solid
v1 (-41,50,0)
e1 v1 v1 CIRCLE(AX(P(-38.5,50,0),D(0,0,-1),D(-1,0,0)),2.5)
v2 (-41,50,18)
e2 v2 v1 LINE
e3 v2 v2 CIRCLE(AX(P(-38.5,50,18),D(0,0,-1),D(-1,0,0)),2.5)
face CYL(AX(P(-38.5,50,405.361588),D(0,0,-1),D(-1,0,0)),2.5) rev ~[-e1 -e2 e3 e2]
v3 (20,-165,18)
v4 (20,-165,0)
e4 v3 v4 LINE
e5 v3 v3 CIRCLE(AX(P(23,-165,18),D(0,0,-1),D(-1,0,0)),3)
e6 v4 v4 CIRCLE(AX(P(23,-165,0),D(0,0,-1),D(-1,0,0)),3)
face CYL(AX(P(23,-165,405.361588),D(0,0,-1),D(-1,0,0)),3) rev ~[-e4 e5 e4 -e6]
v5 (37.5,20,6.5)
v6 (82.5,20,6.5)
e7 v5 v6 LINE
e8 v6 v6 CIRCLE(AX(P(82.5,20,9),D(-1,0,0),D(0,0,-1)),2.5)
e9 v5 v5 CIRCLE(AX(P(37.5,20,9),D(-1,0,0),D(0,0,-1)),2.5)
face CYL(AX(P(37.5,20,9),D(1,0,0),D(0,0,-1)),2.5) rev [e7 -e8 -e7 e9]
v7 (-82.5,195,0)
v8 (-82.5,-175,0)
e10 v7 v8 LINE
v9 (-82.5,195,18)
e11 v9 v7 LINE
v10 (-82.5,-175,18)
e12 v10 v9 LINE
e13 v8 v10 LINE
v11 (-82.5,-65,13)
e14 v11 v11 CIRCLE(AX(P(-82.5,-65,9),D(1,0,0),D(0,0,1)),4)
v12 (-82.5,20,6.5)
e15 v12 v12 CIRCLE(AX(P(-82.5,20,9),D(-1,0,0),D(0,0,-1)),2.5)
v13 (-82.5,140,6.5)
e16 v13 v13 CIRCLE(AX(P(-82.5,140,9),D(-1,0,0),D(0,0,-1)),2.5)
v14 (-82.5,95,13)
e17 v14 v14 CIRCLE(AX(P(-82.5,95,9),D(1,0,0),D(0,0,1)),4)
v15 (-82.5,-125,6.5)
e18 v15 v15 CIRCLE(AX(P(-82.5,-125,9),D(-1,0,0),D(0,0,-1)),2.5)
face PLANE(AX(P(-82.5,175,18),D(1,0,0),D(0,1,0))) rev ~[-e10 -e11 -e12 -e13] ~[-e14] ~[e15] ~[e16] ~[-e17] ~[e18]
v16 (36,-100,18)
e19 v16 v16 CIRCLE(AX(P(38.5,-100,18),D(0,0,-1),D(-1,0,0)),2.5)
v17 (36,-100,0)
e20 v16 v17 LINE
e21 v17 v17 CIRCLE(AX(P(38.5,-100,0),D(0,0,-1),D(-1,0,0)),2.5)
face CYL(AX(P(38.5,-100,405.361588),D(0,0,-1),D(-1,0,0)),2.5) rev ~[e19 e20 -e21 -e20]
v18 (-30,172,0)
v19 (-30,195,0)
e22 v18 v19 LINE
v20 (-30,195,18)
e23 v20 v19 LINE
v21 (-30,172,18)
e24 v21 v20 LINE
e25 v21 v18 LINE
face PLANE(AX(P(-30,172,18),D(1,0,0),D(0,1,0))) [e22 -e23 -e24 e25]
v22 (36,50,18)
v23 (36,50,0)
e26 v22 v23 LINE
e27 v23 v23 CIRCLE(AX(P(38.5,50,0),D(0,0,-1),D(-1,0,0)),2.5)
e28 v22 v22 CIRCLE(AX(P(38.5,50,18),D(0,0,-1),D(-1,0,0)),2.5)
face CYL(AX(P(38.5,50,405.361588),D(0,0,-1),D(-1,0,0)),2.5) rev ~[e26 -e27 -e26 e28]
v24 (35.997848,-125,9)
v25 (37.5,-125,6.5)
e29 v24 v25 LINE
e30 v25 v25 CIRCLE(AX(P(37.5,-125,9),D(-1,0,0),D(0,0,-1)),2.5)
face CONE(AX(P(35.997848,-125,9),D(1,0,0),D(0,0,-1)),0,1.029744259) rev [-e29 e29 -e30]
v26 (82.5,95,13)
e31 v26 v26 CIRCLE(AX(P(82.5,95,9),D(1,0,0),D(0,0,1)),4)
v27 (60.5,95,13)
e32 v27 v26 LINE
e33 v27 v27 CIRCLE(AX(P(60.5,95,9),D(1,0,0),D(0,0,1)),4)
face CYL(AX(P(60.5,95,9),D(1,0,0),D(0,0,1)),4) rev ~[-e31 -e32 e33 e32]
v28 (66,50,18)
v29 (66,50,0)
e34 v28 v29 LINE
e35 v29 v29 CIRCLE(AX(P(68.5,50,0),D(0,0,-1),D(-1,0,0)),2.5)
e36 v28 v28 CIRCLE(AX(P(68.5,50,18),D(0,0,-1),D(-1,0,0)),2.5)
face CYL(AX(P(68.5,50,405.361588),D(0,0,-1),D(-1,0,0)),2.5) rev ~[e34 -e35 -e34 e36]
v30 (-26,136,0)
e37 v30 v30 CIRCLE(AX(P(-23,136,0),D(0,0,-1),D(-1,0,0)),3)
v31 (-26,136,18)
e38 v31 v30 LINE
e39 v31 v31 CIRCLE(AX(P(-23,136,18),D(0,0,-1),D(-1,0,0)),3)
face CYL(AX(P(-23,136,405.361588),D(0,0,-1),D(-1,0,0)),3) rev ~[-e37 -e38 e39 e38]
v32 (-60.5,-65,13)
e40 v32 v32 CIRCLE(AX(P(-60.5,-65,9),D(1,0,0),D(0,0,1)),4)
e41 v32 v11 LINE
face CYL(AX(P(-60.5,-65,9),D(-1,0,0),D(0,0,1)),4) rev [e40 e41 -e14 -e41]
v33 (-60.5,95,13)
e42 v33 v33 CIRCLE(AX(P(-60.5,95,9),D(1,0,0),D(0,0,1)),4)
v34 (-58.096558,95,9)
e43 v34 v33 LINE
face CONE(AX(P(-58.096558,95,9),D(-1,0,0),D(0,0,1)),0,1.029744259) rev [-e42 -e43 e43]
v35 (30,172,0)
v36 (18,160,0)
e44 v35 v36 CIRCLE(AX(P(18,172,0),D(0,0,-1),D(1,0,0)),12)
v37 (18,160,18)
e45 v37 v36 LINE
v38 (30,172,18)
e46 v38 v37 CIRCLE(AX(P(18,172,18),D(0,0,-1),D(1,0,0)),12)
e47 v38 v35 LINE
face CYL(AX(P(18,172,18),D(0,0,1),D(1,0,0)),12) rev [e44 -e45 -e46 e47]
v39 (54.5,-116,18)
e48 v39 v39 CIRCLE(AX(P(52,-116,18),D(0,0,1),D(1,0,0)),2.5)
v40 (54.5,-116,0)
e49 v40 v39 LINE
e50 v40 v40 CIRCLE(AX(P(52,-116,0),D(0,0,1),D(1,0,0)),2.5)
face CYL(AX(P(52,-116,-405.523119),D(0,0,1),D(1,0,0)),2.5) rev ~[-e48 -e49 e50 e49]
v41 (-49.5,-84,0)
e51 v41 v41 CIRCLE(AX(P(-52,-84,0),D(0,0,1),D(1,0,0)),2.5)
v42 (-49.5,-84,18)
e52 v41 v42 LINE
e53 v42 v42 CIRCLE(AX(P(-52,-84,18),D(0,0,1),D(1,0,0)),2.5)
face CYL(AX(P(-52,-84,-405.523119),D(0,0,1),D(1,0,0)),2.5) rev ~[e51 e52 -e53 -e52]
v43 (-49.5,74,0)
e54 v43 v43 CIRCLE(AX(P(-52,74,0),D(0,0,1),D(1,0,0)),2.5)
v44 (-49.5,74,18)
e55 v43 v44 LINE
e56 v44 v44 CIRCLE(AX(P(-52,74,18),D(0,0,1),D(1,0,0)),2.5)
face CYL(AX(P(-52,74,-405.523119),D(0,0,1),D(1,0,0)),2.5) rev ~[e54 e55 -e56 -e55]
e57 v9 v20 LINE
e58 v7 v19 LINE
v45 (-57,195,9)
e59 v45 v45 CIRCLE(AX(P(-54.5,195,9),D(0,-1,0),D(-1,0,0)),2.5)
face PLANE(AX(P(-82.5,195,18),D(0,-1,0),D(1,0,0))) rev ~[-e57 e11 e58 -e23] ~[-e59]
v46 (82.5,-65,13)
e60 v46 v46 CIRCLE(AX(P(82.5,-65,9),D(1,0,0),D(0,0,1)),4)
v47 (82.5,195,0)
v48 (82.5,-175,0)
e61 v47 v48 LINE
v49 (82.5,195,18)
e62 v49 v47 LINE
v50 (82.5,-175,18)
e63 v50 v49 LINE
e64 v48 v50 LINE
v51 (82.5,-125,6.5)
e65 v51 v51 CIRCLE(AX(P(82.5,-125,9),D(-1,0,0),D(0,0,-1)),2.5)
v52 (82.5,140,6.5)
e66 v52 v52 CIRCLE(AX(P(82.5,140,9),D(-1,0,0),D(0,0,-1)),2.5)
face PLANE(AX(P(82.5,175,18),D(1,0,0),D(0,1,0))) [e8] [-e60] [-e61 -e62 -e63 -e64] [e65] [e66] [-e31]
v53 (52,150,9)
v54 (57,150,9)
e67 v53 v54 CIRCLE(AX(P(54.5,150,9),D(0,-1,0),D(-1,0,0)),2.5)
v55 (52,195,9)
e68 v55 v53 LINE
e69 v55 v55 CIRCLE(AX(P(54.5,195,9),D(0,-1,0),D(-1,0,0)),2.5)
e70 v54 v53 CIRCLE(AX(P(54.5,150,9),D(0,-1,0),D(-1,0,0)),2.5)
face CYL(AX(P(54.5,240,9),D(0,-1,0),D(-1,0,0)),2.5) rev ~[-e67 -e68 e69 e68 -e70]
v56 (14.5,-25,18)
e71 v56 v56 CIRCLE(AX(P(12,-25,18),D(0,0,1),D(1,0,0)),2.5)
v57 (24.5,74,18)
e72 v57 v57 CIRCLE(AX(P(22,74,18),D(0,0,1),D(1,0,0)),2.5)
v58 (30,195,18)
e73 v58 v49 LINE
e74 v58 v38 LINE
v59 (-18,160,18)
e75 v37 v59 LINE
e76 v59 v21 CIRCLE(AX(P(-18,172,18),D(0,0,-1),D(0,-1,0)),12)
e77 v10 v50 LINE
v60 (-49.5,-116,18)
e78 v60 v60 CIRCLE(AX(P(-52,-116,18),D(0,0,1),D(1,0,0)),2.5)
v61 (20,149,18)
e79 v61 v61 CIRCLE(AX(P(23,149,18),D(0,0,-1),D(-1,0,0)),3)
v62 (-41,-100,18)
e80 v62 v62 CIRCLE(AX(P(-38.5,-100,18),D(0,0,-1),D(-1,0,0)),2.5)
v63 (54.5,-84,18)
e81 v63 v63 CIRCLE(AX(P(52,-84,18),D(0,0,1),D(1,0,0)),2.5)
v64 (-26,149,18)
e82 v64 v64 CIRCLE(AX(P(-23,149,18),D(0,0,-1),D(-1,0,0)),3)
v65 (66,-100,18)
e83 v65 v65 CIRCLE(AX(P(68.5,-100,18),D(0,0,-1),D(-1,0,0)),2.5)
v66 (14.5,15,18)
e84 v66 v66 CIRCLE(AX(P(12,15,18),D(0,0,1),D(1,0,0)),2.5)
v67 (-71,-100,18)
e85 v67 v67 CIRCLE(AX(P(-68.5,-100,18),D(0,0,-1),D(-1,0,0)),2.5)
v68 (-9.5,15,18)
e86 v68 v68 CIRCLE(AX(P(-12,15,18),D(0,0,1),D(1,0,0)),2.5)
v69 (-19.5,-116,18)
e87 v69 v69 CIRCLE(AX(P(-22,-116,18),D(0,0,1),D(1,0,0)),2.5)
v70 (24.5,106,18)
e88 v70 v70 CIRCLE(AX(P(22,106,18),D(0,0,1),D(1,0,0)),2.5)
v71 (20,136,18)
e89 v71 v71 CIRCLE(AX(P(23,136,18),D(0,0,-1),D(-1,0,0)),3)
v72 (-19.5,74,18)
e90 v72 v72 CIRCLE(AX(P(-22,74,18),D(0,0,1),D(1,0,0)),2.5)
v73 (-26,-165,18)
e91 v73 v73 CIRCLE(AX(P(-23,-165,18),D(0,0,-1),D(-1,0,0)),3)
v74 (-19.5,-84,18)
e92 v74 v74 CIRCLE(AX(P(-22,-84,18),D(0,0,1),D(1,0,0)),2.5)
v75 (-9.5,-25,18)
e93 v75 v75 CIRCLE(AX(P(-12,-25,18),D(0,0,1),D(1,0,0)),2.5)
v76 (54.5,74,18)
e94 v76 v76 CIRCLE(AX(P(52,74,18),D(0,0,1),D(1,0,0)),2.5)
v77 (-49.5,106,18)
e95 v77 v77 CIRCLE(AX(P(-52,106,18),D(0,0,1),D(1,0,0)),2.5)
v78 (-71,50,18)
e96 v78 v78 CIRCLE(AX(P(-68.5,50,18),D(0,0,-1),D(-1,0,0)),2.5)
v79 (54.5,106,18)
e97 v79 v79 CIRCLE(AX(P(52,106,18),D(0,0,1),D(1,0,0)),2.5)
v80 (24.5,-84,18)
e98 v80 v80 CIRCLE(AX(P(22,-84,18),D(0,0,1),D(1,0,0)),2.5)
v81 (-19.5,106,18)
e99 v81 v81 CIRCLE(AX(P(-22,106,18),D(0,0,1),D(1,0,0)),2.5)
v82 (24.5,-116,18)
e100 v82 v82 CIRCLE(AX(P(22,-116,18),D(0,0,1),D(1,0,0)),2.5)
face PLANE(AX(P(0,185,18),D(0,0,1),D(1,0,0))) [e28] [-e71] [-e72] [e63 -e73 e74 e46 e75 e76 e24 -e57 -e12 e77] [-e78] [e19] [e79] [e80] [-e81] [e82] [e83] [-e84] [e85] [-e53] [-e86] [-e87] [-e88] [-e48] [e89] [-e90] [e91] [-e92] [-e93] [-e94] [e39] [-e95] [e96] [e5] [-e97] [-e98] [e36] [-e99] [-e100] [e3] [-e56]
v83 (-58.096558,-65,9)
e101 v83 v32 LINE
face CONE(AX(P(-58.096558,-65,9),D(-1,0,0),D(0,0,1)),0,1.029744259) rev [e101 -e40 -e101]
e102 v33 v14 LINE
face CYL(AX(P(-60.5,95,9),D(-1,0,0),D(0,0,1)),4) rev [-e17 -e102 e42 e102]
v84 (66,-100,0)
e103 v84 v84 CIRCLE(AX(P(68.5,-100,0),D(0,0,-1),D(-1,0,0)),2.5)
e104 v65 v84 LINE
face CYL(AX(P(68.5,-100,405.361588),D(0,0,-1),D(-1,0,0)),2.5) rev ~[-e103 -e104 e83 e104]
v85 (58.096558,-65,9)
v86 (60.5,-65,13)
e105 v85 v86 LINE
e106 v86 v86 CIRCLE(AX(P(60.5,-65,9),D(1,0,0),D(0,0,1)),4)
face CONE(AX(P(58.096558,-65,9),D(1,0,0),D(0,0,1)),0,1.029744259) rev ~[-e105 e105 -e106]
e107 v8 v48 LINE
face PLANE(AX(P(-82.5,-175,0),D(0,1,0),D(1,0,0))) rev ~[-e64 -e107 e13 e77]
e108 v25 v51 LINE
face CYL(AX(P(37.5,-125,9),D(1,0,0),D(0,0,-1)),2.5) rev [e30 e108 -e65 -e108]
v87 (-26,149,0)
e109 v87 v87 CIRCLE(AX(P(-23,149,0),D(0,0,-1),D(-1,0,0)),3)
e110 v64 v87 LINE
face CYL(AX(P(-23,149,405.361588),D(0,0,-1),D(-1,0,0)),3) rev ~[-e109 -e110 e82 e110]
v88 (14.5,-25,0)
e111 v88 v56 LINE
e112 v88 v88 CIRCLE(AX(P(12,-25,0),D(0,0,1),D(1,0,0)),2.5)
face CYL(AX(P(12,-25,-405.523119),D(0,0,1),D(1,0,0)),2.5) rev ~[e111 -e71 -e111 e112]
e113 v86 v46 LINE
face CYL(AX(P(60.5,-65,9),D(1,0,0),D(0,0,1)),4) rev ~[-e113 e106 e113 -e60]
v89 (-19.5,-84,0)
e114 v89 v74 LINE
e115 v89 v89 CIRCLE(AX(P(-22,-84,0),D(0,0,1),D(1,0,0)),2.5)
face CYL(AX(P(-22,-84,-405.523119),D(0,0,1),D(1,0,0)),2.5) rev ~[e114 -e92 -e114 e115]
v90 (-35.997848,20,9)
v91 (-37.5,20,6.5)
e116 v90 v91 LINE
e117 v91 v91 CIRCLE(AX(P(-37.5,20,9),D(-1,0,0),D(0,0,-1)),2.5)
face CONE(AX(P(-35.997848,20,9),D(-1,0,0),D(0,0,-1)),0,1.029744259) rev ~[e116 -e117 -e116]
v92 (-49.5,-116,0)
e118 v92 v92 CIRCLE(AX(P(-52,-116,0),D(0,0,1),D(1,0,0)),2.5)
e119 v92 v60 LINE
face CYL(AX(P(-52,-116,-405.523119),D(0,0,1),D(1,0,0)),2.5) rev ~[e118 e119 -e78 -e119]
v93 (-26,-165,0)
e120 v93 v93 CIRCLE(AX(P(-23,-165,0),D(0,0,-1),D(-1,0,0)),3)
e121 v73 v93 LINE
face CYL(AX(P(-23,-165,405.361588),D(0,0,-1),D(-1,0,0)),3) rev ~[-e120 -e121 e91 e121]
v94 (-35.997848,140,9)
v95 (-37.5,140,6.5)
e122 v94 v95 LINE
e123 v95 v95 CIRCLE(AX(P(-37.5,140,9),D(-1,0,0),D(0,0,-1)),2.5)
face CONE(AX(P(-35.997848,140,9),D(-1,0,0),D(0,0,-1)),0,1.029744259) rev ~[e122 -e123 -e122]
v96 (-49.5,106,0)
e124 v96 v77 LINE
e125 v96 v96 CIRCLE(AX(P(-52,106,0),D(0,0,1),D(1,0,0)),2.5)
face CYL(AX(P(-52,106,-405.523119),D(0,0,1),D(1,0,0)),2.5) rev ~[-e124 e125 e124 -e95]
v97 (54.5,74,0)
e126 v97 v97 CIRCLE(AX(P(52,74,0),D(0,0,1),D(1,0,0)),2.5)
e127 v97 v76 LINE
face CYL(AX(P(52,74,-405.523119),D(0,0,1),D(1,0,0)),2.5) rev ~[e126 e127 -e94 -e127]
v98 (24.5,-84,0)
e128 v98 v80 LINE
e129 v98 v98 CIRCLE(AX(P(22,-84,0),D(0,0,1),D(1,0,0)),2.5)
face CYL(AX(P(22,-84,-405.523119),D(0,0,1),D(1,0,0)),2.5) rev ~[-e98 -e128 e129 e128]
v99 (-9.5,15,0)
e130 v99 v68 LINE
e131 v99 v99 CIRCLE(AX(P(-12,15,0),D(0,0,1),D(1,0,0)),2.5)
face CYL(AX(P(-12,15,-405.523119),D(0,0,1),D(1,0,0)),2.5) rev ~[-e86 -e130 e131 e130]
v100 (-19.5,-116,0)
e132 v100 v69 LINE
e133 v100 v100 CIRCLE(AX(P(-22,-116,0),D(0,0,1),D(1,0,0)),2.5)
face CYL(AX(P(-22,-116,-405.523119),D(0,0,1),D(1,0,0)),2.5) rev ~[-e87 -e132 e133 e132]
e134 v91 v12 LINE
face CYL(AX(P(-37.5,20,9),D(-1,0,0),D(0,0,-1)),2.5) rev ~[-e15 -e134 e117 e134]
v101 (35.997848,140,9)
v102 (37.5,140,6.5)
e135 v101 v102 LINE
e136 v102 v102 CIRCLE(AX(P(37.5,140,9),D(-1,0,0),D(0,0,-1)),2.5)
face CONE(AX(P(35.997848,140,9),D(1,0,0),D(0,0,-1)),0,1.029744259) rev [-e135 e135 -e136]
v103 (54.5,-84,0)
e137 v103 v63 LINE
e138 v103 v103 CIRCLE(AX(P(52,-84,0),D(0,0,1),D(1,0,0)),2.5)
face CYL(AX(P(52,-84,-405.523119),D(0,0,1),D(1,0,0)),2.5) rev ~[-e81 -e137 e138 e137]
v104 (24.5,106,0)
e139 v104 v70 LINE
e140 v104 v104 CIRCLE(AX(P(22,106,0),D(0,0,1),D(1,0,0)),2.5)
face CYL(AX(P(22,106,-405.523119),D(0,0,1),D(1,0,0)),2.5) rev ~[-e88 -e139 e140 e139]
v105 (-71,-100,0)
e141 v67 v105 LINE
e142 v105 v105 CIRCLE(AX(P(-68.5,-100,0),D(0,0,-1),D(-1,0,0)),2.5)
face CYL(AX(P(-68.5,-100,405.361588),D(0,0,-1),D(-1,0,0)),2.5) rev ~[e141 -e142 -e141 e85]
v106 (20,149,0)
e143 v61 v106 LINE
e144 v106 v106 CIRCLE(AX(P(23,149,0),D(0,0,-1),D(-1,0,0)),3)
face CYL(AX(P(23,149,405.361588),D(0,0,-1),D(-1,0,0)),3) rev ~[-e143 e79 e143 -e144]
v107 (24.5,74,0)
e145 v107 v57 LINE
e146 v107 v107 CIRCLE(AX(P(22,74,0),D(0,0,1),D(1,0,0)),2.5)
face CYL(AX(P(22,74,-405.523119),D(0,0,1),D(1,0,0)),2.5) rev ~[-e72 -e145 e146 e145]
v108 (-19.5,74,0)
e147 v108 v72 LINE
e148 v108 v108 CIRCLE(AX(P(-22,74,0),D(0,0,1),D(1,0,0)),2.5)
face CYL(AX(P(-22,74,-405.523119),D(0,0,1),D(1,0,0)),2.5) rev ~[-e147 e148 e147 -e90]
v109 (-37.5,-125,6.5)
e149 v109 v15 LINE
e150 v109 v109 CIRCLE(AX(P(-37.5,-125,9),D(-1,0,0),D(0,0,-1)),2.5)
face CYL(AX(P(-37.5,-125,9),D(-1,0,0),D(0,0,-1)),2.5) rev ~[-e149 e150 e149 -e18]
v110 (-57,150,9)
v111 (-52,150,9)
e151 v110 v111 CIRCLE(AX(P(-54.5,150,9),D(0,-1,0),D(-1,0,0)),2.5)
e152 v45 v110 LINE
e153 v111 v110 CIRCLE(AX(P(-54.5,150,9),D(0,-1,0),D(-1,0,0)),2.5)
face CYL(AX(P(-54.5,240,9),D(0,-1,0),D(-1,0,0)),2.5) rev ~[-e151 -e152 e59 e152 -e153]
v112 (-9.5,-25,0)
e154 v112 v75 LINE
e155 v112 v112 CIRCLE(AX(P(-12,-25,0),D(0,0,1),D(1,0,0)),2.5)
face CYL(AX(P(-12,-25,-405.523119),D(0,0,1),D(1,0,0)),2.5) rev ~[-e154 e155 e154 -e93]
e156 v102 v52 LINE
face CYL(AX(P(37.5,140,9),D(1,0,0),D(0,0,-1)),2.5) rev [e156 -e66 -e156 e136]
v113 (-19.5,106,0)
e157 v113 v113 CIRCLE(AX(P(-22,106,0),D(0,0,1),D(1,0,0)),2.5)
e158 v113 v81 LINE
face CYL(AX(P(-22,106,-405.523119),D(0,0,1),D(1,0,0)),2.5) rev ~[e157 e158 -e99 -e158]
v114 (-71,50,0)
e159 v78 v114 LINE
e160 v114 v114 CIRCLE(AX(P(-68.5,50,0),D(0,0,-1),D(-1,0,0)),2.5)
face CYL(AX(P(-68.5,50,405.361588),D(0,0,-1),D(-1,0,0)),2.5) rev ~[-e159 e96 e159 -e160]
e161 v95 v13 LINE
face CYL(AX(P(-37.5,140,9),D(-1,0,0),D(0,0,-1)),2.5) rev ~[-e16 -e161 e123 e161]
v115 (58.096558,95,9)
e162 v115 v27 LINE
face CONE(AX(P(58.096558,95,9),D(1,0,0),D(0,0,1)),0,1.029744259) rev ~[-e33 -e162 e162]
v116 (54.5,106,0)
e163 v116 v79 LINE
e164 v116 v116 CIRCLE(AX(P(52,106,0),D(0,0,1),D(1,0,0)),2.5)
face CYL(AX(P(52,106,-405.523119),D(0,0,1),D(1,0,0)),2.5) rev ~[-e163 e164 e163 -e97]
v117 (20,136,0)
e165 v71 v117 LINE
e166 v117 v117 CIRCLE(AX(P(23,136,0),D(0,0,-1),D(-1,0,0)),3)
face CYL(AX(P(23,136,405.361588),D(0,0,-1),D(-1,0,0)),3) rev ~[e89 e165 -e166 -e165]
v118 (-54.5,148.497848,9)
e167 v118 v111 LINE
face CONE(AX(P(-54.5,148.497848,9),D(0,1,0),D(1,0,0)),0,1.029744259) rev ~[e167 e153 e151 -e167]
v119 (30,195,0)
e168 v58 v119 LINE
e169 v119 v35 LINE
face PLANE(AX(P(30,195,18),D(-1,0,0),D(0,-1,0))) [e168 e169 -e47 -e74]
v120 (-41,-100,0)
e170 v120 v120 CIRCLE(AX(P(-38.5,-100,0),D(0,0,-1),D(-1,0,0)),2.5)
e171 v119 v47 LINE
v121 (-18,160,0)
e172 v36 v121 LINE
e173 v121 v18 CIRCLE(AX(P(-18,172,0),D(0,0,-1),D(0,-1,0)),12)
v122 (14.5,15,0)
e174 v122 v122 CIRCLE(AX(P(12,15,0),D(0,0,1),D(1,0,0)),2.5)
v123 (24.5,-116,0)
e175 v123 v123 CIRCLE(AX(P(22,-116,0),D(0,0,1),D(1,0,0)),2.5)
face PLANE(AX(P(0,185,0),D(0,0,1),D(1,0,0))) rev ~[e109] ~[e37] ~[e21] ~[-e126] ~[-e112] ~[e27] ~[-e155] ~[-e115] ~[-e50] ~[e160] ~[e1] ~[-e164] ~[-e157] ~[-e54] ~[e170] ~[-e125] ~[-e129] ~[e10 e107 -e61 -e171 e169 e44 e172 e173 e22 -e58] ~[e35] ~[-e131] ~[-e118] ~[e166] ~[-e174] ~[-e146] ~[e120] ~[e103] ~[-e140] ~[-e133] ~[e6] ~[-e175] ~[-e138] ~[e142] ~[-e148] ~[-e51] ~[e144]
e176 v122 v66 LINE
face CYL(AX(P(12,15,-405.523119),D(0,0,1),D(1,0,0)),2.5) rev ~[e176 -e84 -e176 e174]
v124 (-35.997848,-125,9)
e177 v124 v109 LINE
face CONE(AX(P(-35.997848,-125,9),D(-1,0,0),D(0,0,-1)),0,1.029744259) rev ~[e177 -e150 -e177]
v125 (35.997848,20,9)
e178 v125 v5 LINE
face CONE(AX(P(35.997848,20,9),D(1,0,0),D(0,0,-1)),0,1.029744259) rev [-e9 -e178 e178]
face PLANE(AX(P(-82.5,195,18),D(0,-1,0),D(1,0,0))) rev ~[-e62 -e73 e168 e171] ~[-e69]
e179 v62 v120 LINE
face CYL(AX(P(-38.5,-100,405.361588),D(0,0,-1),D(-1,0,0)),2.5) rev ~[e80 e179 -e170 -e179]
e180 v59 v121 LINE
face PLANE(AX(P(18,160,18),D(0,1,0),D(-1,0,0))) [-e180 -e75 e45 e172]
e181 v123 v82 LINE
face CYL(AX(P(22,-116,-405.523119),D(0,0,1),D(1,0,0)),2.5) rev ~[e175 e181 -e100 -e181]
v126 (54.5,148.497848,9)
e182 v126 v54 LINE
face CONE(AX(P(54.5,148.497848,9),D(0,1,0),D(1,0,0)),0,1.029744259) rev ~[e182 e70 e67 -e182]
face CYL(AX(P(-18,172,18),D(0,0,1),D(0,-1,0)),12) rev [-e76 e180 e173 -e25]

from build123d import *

# Parameters (mm, degrees)
SKETCH1_W                   = 165
SKETCH1_H                   = 350
BOSS_EXTRUDE1_DEPTH         = 18
F_6_0_6_DIAMETER_HOLE1_D    = 6
F_6_0_6_DIAMETER_HOLE2_D    = 6
OTW_R_5_0_5_1_D             = 5
SZKIC4_W                    = 165
SZKIC4_H                    = 20
DODANIE_WYCI_GNI_CIE3_DEPTH = 18
WYTNIJ_WYCI_GNI_CIE2_DEPTH  = 18
OTW_R_5_0_5_2_D             = 5
OTW_R_5_0_5_3_D             = 5
OTW_R_5_0_5_3_DEPTH         = 45
OTW_R_5_0_5_3_TIP           = 1.502151548
OTW_R_5_0_5_4_AT_2_COUNT    = 2
OTW_R_5_0_5_4_AT_2_PITCH    = 120
OTW_R_5_0_5_4_AT_3_COUNT    = 2
OTW_R_5_0_5_4_AT_3_PITCH    = 265
OTW_R_8_0_8_1_AT_2_COUNT    = 2
OTW_R_8_0_8_1_AT_2_PITCH    = 160


with BuildPart() as part:
    # Sketch1 → Boss-Extrude1 (new body)
    with BuildSketch(Plane.XY):
        Rectangle(SKETCH1_W, SKETCH1_H)
    extrude(amount=BOSS_EXTRUDE1_DEPTH)

    # Ø6.0 (6) Diameter Hole1 (through all)
    with Locations(Plane.XY.offset(18)):
        with Locations((-23, 149), (-23, 136), (23, 149), (23, 136)):
            Hole(F_6_0_6_DIAMETER_HOLE1_D / 2)

    # Ø6.0 (6) Diameter Hole2 (through all)
    with Locations(Plane.XY.offset(18)):
        with Locations((23, -165), (-23, -165)):
            Hole(F_6_0_6_DIAMETER_HOLE2_D / 2)

    # Otwór Ø5.0 (5)1 (through all)
    with Locations(Plane.XY.offset(18)):
        with Locations((-68.5, 50), (-38.5, 50), (-68.5, -100), (-38.5, -100), (68.5, 50), (38.5, 50), (68.5, -100), (38.5, -100)):
            Hole(OTW_R_5_0_5_1_D / 2)

    # Szkic4 → Dodanie-wyciągnięcie3 (add)
    with BuildSketch(Plane.XY.offset(18)):
        with Locations((0, 185)):
            Rectangle(SZKIC4_W, SZKIC4_H)
    extrude(amount=-DODANIE_WYCI_GNI_CIE3_DEPTH)

    # Szkic5 → Wytnij-wyciągnięcie2 (cut)
    with BuildSketch(Plane.XY.offset(18)):
        with BuildLine():
            Line((-30, 195), (30, 195))
            Line((30, 195), (30, 172))
            ThreePointArc((30, 172), (26.485281374, 163.514718626), (18, 160))
            Line((18, 160), (-18, 160))
            ThreePointArc((-18, 160), (-26.485281374, 163.514718626), (-30, 172))
            Line((-30, 172), (-30, 195))
        make_face()
    extrude(amount=-WYTNIJ_WYCI_GNI_CIE2_DEPTH, mode=Mode.SUBTRACT)

    # Otwór Ø5.0 (5)2 (through all)
    with Locations(Plane(origin=(0, 0, 0), x_dir=(-1, 0, 0), z_dir=(0, 0, -1))):
        with Locations((-52, 106), (-22, 106), (-52, 74), (-22, 74), (22, 106), (52, 106), (52, 74), (22, 74), (-12, 15), (12, 15), (12, -25), (-12, -25), (-52, -84), (-22, -84), (-52, -116), (-22, -116), (22, -84), (52, -84), (22, -116), (52, -116)):
            Hole(OTW_R_5_0_5_2_D / 2)

    # Otwór Ø5.0 (5)3
    with Locations(Plane(origin=(0, 195, 0), x_dir=(1, 0, 0), z_dir=(0, 1, 0))):
        with Locations((-54.5, -9), (54.5, -9)):
            Hole(OTW_R_5_0_5_3_D / 2, depth=OTW_R_5_0_5_3_DEPTH)
            with Locations((0, 0, -(OTW_R_5_0_5_3_DEPTH + OTW_R_5_0_5_3_TIP / 2))):  # 118° drill point
                Cone(0, OTW_R_5_0_5_3_D / 2, OTW_R_5_0_5_3_TIP, mode=Mode.SUBTRACT)

    # Szkic13 → Otwór Ø5.0 (5)4 (revolve, cut)
    with BuildSketch(Plane(origin=(82.5, 140, 9), x_dir=(0, 0, -1), z_dir=(0, 1, 0))):
        Polygon((0, 0), (0, 46.502151548), (2.5, 45), (2.5, 0), align=None)
    otw_r_5_0_5_4 = revolve(axis=Axis((88.85, 140, 9), (-1, 0, 0)), mode=Mode.SUBTRACT)

    # Otwór Ø5.0 (5)4 at 2: Otwór Ø5.0 (5)4 ×2
    with Locations(*[(0, -i * OTW_R_5_0_5_4_AT_2_PITCH, 0) for i in range(1, OTW_R_5_0_5_4_AT_2_COUNT)]):
        add(otw_r_5_0_5_4, mode=Mode.SUBTRACT)

    # Otwór Ø5.0 (5)4 at 3: Otwór Ø5.0 (5)4 ×2
    with Locations(*[(0, -i * OTW_R_5_0_5_4_AT_3_PITCH, 0) for i in range(1, OTW_R_5_0_5_4_AT_3_COUNT)]):
        add(otw_r_5_0_5_4, mode=Mode.SUBTRACT)

    # Lustro1: Otwór Ø5.0 (5)4 across plane
    add(otw_r_5_0_5_4.mirror(Plane.ZY), mode=Mode.SUBTRACT)

    # Lustro1 copy 1 sketch → Lustro1 copy 1 (revolve, cut)
    with BuildSketch(Plane(origin=(-82.5, 20, 9), x_dir=(0, 0, -1), z_dir=(0, 1, 0))):
        Polygon((0, 0), (0, -46.502151548), (2.5, -45), (2.5, 0), align=None)
    revolve(axis=Axis((-88.85, 20, 9), (-1, 0, 0)), mode=Mode.SUBTRACT)

    # Lustro1 copy 2 sketch → Lustro1 copy 2 (revolve, cut)
    with BuildSketch(Plane(origin=(-82.5, -125, 9), x_dir=(0, 0, -1), z_dir=(0, 1, 0))):
        Polygon((0, 0), (0, -46.502151548), (2.5, -45), (2.5, 0), align=None)
    revolve(axis=Axis((-88.85, -125, 9), (-1, 0, 0)), mode=Mode.SUBTRACT)

    # Szkic15 → Otwór Ø8.0 (8)1 (revolve, cut)
    with BuildSketch(Plane(origin=(-82.5, 95, 9), x_dir=(0, 0, 1), z_dir=(0, 1, 0))):
        Polygon((0, 0), (0, 24.403442476), (4, 22), (4, 0), align=None)
    otw_r_8_0_8_1 = revolve(axis=Axis((-88.85, 95, 9), (1, 0, 0)), mode=Mode.SUBTRACT)

    # Otwór Ø8.0 (8)1 at 2: Otwór Ø8.0 (8)1 ×2
    with Locations(*[(0, -i * OTW_R_8_0_8_1_AT_2_PITCH, 0) for i in range(1, OTW_R_8_0_8_1_AT_2_COUNT)]):
        add(otw_r_8_0_8_1, mode=Mode.SUBTRACT)

    # Lustro2: Otwór Ø8.0 (8)1 across plane
    add(otw_r_8_0_8_1.mirror(Plane.ZY), mode=Mode.SUBTRACT)

    # Lustro2 copy 1 sketch → Lustro2 copy 1 (revolve, cut)
    with BuildSketch(Plane(origin=(82.5, -65, 9), x_dir=(0, 0, 1), z_dir=(0, 1, 0))):
        Polygon((0, 0), (0, -24.403442476), (4, -22), (4, 0), align=None)
    revolve(axis=Axis((88.85, -65, 9), (1, 0, 0)), mode=Mode.SUBTRACT)


solid = part.part
